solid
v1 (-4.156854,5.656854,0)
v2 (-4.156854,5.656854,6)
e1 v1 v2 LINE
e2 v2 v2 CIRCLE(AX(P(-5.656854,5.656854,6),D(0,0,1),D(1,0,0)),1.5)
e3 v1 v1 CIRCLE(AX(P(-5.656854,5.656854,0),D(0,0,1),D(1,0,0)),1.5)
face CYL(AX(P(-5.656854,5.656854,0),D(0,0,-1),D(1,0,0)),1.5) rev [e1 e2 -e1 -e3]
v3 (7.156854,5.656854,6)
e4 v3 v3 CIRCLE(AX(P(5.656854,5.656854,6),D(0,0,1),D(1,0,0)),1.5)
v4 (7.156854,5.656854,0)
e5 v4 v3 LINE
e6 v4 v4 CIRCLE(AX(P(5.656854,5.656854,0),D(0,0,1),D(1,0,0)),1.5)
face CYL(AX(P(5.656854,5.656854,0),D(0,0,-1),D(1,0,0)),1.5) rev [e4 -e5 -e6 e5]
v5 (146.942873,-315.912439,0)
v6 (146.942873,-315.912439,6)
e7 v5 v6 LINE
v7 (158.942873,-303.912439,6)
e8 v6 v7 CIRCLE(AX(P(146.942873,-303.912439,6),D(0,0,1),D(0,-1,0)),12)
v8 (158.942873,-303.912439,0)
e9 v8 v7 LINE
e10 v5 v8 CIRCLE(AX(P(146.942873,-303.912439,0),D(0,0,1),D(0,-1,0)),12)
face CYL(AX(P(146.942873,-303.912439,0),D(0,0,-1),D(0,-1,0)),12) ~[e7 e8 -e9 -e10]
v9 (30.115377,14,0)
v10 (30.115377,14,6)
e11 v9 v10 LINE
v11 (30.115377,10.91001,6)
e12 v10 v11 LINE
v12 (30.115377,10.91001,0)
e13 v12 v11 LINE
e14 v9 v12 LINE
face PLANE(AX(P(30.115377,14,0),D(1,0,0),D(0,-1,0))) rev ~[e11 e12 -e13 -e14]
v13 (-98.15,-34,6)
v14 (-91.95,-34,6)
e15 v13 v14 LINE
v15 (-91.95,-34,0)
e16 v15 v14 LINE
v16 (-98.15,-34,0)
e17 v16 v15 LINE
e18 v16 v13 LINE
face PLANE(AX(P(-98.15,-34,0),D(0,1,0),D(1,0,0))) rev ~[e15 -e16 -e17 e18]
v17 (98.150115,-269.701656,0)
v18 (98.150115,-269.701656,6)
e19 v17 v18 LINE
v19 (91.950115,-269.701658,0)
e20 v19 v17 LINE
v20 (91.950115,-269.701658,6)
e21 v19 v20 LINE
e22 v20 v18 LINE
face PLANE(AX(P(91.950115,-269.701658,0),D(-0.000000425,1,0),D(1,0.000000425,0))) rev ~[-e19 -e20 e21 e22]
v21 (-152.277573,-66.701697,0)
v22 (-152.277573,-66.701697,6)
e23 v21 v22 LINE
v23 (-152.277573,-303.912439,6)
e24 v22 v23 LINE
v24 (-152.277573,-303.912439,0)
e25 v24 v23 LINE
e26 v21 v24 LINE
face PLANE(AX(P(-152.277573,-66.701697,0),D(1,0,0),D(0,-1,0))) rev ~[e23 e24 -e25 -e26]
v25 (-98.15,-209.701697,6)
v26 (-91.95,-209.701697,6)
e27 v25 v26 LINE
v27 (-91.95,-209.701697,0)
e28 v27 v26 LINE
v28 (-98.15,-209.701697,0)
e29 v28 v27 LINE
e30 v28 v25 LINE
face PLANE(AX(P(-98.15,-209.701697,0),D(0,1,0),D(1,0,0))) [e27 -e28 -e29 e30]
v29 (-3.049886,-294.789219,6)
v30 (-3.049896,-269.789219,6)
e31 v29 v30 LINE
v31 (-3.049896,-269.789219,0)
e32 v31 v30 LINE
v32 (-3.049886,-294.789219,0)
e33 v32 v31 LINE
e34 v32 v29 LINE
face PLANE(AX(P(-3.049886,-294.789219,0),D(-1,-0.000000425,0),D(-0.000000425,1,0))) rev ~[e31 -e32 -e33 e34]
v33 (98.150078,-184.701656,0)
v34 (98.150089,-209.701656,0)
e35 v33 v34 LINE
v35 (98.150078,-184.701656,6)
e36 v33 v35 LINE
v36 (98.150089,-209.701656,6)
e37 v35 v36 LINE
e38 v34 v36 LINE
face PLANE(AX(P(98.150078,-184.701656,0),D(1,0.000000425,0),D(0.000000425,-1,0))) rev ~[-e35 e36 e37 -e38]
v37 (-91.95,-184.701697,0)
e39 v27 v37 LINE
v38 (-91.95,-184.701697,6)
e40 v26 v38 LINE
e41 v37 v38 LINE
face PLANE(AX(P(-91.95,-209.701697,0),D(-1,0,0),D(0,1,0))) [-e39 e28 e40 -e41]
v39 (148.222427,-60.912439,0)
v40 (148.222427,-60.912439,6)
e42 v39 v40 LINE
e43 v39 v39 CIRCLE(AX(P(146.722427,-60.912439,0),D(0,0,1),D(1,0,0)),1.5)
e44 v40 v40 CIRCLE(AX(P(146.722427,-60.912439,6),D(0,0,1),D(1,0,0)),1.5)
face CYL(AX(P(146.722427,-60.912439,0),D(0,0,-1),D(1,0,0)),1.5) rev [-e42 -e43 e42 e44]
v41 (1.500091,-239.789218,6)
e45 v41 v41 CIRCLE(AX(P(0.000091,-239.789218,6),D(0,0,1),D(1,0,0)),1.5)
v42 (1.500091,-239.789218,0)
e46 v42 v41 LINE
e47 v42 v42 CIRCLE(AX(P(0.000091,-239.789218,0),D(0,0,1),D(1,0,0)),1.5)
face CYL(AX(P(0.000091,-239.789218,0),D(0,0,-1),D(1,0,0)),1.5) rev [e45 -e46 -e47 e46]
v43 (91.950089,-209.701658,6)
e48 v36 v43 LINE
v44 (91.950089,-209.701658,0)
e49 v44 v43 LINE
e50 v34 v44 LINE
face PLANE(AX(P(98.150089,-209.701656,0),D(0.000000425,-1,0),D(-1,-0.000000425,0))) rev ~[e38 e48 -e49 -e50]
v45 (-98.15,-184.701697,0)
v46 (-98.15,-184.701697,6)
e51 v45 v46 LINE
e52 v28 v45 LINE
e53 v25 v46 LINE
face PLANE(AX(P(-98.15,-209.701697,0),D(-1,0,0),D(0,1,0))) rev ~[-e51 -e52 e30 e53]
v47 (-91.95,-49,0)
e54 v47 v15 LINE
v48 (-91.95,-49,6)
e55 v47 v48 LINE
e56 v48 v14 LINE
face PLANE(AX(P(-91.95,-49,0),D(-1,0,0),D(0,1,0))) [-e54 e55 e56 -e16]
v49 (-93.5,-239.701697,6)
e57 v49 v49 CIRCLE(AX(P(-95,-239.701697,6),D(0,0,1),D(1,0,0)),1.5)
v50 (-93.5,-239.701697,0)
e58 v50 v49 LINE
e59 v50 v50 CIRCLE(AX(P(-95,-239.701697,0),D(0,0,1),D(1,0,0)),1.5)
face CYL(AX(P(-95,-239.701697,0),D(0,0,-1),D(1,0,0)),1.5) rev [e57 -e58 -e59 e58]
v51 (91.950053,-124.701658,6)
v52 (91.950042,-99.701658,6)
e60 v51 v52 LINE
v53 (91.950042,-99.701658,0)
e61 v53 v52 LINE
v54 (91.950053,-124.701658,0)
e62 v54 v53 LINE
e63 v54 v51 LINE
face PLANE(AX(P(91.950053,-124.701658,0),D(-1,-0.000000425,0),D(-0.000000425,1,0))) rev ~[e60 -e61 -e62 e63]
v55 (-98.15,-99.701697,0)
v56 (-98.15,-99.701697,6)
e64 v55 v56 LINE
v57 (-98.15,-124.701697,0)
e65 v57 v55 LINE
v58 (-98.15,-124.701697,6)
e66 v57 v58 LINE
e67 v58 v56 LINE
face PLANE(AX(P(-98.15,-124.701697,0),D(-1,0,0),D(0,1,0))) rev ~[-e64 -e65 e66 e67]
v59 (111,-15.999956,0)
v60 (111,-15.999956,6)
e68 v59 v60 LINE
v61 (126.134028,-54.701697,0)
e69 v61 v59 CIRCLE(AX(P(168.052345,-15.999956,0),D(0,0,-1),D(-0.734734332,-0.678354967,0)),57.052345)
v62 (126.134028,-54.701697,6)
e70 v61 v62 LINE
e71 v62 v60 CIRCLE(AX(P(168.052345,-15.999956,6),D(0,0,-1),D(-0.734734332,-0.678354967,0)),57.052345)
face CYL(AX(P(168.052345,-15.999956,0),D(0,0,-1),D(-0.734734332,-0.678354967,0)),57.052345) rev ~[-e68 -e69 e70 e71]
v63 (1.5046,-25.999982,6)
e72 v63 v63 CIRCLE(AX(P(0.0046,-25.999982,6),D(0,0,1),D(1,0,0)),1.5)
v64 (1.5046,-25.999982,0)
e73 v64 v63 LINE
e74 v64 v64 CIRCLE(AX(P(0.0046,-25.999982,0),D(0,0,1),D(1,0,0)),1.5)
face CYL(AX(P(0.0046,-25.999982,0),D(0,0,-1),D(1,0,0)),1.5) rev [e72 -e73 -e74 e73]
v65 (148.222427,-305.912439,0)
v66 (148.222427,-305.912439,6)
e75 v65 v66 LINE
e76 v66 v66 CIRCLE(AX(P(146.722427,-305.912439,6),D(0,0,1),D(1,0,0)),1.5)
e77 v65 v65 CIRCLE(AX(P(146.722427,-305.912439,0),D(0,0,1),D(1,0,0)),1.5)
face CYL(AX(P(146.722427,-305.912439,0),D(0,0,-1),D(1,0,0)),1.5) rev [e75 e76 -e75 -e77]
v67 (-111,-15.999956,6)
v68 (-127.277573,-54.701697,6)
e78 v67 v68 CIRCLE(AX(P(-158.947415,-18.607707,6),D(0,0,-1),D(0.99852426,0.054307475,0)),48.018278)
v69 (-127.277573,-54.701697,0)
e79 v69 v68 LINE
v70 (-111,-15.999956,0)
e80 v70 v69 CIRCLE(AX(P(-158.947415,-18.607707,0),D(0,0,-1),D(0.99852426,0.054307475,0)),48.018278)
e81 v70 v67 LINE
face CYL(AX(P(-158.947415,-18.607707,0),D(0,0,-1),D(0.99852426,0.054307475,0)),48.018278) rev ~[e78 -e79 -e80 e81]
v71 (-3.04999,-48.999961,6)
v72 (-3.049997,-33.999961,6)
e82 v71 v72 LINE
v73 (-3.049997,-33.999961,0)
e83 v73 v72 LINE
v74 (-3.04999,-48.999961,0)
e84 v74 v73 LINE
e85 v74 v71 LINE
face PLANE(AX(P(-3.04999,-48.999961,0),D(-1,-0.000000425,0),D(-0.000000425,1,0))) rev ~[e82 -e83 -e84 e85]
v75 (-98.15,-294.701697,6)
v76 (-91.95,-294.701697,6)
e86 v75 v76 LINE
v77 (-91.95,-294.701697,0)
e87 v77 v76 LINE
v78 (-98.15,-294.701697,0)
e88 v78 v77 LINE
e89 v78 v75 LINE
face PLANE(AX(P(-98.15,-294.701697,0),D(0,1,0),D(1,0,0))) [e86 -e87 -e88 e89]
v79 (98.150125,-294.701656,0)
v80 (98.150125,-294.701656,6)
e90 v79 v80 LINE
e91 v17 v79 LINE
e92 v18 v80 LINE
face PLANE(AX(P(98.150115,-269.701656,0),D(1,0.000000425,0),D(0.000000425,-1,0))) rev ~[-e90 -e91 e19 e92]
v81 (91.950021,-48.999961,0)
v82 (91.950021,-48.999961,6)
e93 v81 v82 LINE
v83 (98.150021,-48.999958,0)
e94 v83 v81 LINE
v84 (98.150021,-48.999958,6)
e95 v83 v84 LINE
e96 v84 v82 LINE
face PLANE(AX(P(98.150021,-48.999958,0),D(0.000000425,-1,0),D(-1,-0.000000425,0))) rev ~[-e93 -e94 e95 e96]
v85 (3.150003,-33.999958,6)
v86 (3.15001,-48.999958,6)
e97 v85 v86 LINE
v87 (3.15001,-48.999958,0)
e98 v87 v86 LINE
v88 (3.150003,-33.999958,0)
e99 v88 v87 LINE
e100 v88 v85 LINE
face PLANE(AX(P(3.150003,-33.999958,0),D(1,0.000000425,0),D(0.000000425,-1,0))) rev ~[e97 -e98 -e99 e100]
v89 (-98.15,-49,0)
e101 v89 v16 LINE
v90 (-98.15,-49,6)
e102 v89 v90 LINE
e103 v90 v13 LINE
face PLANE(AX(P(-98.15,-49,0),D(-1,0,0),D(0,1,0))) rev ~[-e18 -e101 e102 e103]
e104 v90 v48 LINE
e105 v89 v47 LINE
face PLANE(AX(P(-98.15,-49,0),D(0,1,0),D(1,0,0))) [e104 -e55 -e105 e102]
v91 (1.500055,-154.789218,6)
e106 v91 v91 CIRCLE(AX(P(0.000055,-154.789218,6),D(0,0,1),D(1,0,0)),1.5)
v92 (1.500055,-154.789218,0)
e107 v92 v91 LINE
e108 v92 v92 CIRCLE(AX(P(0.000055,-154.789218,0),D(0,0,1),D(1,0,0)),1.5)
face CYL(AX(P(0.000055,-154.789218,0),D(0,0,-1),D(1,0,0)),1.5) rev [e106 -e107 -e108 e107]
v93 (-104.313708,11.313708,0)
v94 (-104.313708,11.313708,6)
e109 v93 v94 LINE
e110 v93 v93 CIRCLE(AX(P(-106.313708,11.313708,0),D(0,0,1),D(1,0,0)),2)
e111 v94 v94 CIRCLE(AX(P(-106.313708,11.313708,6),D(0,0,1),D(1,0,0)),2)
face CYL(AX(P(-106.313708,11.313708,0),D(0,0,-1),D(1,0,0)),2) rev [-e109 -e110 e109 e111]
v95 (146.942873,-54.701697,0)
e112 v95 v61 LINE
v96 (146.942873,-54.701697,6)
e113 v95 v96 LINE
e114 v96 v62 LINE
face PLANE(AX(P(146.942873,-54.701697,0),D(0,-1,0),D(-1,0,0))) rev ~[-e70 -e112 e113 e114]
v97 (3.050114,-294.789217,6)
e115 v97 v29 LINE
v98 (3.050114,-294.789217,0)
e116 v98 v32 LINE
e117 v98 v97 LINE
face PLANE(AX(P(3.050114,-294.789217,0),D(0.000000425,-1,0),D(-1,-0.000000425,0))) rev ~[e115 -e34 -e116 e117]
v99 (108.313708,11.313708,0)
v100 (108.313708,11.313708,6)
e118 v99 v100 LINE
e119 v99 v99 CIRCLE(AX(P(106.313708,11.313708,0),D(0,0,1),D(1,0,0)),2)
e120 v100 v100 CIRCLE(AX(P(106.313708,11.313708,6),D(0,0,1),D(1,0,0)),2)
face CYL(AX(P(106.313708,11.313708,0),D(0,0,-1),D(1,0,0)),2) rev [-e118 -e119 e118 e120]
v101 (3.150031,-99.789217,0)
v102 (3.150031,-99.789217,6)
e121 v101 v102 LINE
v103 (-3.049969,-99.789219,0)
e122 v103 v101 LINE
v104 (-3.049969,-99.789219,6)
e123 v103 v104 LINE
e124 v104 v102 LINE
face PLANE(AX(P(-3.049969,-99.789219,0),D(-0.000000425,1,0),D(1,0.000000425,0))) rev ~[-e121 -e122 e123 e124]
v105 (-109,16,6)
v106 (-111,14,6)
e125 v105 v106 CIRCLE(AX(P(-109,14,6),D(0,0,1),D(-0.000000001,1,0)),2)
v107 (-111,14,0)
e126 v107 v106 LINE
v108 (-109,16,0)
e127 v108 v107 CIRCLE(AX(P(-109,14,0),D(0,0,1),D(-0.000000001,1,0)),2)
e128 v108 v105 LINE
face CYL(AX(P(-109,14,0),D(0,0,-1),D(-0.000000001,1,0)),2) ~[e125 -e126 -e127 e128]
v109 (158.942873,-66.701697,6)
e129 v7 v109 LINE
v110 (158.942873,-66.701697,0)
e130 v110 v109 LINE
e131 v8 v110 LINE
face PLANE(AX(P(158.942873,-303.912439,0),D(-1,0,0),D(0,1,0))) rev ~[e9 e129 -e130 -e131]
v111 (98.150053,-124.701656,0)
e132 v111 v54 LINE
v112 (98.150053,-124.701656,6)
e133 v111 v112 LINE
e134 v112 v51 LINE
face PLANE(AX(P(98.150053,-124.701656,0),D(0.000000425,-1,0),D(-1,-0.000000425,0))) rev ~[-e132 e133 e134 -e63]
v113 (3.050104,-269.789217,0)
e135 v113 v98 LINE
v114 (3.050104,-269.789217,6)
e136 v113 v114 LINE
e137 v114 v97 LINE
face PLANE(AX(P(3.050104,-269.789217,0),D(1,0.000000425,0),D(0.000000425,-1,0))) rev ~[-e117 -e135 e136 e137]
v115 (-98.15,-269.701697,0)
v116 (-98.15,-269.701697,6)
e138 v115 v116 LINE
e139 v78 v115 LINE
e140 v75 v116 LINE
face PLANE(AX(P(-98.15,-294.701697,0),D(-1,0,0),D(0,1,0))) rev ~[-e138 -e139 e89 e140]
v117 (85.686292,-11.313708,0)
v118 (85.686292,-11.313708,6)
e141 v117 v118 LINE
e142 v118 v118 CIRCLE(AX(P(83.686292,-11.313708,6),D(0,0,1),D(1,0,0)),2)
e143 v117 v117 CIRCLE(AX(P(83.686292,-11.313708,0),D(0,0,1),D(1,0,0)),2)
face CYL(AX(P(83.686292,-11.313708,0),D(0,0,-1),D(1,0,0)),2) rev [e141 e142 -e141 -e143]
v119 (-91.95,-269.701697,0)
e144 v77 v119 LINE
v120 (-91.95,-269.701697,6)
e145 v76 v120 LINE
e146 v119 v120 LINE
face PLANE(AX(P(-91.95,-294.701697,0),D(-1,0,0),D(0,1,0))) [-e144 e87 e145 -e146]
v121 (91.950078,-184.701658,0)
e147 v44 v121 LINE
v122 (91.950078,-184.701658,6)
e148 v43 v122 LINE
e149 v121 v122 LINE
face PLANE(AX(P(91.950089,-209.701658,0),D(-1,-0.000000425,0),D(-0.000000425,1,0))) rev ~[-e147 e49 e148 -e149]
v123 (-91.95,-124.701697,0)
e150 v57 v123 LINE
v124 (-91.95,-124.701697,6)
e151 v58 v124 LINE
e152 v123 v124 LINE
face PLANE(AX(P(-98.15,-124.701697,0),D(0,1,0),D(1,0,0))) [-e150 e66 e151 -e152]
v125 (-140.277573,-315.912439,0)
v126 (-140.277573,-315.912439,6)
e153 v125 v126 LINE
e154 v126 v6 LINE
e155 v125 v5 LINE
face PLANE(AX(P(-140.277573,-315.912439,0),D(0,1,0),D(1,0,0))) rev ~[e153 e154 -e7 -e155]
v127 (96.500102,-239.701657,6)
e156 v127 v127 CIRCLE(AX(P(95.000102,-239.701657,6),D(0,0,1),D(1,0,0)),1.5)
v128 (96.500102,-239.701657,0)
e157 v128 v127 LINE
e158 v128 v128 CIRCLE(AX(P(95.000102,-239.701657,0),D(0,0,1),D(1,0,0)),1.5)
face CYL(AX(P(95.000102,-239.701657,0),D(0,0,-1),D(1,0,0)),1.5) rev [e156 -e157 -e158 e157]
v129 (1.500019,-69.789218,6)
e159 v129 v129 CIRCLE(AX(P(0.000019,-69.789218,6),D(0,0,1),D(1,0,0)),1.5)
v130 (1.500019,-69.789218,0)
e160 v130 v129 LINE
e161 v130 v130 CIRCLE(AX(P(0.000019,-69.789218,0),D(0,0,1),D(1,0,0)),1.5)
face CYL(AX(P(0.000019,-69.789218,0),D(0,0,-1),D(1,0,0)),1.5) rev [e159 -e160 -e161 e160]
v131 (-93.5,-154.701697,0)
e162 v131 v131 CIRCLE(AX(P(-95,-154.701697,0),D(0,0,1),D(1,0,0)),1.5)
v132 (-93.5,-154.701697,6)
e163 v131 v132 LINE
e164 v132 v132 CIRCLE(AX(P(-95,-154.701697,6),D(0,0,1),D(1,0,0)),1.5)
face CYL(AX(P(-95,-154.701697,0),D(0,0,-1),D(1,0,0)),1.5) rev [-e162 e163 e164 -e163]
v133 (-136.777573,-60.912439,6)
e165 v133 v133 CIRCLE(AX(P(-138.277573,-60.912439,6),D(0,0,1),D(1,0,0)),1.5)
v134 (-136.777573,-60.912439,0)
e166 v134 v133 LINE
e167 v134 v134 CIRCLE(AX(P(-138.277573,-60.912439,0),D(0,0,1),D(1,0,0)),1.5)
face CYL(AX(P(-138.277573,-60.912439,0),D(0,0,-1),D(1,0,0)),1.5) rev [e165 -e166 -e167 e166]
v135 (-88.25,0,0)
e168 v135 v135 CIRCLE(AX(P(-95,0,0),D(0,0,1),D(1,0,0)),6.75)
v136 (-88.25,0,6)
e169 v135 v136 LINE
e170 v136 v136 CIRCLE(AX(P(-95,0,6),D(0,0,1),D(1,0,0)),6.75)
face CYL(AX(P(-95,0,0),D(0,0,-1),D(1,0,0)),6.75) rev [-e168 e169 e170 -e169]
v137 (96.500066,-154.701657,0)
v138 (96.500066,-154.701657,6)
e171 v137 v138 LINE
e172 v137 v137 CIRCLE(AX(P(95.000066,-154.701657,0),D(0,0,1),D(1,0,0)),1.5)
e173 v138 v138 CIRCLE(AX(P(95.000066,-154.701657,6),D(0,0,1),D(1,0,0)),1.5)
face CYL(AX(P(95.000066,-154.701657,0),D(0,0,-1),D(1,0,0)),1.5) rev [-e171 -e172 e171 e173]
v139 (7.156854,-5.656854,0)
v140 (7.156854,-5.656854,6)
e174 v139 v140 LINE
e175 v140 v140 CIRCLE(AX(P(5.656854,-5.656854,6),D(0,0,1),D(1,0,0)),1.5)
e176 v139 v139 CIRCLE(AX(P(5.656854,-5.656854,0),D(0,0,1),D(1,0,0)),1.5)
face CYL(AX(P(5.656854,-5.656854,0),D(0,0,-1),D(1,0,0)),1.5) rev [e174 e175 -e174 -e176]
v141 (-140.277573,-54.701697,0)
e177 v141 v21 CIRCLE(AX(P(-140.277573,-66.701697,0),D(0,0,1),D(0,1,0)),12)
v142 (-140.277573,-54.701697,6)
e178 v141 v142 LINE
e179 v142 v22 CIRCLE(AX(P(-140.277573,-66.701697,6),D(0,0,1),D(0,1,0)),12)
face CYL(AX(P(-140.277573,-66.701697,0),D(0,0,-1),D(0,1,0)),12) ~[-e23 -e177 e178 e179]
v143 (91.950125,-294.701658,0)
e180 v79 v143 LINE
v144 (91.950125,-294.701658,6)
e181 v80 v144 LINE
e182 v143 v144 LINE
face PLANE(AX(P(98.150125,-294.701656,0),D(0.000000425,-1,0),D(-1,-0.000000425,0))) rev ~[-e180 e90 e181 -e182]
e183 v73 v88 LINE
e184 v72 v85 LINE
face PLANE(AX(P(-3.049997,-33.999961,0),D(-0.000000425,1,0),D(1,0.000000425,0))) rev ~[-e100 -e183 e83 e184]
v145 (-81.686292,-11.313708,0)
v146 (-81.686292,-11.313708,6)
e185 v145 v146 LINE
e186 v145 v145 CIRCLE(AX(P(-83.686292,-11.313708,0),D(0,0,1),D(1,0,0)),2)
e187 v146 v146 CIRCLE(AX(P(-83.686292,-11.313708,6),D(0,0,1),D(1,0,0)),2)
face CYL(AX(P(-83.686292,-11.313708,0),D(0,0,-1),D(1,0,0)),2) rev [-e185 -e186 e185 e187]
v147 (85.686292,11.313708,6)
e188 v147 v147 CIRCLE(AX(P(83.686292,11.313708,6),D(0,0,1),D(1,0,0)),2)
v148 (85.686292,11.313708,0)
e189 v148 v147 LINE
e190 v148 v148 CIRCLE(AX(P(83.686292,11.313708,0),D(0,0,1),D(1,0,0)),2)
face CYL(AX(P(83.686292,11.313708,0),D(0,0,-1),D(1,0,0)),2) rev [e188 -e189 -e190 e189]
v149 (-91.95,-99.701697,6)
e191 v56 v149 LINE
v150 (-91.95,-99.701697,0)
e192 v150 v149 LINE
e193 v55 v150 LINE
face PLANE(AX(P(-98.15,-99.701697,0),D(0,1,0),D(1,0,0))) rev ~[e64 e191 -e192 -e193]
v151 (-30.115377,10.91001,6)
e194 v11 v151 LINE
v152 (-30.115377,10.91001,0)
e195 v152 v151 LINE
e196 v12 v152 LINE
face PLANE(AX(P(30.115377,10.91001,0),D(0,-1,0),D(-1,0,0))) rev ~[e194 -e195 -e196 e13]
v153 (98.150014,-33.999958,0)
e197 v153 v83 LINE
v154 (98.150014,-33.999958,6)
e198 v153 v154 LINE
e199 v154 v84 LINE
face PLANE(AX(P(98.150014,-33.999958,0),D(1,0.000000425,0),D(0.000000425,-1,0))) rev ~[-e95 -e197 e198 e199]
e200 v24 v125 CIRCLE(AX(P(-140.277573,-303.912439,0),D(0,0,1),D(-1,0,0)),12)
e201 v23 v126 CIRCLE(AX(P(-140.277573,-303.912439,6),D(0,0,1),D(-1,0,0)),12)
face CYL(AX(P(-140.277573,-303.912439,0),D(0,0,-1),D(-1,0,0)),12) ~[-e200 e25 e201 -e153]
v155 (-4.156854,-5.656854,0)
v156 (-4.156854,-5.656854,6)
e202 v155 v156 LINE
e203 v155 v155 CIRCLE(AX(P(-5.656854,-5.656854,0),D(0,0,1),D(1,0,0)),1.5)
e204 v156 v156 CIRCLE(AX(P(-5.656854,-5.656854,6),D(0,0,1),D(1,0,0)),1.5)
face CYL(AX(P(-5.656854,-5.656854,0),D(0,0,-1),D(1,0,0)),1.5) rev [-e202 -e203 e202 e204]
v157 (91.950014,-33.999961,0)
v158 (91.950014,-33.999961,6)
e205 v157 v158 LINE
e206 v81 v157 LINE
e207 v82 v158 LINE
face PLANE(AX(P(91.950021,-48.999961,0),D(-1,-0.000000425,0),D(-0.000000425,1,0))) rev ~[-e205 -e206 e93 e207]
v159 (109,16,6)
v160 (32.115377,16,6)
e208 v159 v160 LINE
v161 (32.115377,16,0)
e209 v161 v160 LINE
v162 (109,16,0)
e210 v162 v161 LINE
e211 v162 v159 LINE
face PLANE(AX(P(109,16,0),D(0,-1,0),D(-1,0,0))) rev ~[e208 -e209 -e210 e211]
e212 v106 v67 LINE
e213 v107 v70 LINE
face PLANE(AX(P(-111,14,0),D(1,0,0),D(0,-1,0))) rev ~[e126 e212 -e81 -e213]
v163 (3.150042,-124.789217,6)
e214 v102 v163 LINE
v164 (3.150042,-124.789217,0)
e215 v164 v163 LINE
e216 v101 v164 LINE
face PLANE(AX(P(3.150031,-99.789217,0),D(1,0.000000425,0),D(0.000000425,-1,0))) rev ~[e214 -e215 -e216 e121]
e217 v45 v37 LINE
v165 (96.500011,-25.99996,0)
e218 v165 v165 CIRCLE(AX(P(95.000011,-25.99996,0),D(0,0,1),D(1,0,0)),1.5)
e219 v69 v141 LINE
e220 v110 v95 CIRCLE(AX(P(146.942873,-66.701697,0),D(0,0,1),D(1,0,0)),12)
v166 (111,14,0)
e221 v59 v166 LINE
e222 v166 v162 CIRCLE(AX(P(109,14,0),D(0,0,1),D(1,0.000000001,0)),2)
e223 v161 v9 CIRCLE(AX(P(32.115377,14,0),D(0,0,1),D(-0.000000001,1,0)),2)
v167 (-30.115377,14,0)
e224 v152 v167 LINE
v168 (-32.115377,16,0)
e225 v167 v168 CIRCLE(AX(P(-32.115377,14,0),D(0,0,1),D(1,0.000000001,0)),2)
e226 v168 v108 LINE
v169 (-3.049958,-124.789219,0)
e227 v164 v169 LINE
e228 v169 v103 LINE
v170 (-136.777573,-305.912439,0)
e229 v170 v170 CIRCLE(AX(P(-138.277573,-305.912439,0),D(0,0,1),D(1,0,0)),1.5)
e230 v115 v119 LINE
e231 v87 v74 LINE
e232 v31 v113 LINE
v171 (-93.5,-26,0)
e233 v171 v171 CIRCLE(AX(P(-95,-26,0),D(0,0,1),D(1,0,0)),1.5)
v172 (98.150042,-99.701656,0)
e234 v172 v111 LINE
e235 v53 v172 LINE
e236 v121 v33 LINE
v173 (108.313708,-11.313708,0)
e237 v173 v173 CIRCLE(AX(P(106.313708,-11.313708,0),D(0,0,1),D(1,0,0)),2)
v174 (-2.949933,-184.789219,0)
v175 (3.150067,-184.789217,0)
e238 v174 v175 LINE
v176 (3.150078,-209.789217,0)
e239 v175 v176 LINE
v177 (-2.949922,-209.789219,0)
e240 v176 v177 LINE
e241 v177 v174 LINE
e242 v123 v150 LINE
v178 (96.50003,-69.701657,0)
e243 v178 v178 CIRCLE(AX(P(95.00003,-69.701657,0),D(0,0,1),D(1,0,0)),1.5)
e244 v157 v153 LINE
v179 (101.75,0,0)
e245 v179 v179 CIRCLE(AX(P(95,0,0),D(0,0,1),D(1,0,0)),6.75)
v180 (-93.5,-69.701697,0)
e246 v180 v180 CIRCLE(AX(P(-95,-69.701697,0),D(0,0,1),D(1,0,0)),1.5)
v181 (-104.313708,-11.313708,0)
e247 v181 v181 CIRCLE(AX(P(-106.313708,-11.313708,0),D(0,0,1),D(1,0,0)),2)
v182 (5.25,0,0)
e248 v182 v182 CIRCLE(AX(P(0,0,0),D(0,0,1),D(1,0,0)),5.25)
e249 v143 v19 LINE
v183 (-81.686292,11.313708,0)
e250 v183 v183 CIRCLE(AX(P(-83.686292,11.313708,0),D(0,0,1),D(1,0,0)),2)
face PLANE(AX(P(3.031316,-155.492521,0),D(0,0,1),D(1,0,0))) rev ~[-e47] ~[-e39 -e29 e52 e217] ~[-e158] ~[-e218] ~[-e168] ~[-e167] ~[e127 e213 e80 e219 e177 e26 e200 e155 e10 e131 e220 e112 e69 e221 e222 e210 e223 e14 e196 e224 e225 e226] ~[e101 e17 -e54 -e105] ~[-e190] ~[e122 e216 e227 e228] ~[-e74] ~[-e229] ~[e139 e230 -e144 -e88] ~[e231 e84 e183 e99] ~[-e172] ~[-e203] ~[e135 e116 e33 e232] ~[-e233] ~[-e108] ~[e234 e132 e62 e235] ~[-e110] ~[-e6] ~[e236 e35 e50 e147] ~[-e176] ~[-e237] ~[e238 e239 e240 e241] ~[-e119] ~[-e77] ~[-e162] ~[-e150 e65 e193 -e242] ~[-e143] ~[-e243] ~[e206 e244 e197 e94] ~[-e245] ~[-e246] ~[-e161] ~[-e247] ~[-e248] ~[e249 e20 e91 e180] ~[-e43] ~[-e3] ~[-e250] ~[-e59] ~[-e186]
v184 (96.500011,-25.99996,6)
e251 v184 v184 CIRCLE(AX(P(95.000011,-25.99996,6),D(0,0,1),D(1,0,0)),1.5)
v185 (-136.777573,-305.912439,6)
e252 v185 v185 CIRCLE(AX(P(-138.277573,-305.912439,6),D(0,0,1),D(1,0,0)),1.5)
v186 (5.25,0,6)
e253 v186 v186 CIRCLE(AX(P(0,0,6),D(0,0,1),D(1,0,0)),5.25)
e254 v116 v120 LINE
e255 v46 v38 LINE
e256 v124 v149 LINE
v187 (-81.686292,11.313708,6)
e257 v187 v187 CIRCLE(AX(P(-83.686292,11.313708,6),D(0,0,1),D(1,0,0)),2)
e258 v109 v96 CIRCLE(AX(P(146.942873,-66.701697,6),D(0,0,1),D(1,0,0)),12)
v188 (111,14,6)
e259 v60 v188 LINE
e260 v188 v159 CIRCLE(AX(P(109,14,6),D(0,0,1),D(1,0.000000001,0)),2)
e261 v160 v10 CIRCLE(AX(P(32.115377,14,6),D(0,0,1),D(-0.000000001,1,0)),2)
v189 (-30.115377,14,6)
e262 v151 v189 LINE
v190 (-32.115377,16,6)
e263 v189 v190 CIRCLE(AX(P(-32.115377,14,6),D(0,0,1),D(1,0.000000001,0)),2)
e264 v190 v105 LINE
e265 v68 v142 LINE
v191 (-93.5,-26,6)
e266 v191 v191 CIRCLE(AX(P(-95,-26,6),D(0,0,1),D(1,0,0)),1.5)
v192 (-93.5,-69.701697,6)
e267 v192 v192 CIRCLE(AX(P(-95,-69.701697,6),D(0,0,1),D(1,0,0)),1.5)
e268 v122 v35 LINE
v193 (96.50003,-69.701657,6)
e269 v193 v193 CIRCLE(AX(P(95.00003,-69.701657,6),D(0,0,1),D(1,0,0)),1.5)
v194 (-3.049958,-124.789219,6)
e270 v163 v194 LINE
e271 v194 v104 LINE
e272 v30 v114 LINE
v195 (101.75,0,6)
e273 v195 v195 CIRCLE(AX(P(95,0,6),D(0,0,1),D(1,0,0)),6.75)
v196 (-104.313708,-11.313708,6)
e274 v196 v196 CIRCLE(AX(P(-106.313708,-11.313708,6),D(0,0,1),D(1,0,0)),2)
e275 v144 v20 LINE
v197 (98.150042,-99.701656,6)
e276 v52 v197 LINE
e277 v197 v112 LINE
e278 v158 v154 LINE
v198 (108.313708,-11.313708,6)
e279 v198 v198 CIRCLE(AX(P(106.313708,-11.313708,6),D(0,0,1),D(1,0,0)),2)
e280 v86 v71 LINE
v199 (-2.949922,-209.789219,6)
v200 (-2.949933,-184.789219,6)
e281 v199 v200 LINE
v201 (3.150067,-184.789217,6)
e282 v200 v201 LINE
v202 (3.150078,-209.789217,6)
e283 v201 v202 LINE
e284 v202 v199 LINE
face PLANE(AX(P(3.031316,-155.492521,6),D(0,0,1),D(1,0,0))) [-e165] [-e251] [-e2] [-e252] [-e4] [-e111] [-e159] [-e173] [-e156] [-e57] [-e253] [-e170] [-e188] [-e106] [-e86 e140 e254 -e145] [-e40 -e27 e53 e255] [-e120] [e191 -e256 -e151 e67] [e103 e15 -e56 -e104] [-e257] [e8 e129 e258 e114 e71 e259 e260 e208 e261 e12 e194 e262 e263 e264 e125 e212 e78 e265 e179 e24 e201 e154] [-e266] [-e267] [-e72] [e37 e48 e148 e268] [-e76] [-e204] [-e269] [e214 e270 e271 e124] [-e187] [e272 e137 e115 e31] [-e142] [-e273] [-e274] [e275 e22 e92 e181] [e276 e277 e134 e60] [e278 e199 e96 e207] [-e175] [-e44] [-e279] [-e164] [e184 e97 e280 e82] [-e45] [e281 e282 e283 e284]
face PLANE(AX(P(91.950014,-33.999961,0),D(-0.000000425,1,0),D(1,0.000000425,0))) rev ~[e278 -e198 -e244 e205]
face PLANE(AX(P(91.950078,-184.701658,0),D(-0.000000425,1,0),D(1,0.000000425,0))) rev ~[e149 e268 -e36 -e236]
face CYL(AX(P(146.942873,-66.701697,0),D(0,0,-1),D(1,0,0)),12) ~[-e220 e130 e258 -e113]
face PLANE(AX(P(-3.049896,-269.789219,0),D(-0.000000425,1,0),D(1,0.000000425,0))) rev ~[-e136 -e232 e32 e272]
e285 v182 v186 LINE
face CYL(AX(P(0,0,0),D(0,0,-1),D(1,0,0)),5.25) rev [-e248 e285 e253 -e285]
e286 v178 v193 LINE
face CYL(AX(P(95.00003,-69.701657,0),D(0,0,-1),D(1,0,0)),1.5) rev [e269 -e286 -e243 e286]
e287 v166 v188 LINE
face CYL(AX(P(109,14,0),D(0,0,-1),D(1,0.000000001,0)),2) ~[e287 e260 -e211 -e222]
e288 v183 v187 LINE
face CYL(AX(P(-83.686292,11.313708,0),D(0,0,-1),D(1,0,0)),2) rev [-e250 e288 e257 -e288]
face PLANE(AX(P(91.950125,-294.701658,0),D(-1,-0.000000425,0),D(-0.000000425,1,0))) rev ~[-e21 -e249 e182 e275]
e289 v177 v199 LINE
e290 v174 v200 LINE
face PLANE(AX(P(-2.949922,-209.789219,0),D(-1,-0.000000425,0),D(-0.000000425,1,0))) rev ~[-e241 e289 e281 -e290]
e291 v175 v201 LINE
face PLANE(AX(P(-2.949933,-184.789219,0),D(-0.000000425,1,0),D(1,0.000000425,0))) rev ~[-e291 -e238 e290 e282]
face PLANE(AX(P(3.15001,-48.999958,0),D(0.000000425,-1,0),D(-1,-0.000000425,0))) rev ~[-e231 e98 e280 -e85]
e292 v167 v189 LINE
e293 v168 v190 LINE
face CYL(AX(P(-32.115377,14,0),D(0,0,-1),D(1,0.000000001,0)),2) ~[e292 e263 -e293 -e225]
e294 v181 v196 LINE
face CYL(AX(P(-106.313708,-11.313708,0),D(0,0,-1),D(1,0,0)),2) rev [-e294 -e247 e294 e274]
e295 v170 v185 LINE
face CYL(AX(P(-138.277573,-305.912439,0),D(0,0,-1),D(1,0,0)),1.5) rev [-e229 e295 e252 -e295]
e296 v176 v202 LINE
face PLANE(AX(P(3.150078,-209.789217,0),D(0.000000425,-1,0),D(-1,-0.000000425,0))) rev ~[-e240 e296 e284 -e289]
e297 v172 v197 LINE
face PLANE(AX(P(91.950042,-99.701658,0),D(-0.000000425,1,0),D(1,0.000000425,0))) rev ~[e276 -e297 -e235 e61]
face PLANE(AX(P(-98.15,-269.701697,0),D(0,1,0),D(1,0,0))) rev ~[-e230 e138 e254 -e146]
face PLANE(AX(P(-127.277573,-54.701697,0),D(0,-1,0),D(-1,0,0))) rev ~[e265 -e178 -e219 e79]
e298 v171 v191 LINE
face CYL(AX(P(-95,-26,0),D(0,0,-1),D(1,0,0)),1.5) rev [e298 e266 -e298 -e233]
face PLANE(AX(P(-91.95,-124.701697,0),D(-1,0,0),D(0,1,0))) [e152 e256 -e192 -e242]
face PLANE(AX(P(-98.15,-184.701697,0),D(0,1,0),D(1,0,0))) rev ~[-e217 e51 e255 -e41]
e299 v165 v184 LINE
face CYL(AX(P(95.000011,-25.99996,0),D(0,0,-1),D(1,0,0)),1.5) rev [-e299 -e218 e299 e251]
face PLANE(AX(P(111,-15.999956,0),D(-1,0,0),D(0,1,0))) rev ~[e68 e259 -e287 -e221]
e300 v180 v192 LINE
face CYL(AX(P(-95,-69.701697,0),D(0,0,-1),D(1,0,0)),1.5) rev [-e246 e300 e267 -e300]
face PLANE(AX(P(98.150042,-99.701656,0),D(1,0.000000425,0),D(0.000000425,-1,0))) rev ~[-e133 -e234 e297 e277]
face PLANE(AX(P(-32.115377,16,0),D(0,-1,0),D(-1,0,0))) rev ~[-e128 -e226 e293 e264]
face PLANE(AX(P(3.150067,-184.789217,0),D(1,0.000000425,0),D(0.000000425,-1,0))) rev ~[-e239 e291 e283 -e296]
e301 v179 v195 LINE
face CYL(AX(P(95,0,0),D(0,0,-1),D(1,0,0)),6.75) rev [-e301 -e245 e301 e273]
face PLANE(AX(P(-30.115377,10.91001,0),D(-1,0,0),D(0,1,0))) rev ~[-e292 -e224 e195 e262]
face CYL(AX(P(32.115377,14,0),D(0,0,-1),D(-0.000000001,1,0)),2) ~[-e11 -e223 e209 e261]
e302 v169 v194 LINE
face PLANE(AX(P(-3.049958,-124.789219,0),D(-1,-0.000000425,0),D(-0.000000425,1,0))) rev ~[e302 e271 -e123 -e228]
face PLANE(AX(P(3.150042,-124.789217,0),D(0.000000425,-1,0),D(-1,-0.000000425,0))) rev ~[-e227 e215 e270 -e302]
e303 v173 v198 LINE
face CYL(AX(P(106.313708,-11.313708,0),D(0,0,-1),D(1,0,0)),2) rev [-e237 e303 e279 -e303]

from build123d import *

# Parameters (mm, degrees)
CROQUIS1_R              = 1.5
CROQUIS1_W              = 6.2
CROQUIS1_H              = 25
CROQUIS1_H_2            = 15
CROQUIS1_R_2            = 2
CROQUIS1_R_3            = 6.75
CROQUIS1_R_4            = 5.25
SALIENTE_EXTRUIR1_DEPTH = 6


with BuildPart() as part:
    # Croquis1 → Saliente-Extruir1 (new body)
    with BuildSketch(Plane.XY):
        with BuildLine():
            Line((87.635637669, 16), (32.115377174, 16))
            ThreePointArc((32.115377174, 16), (30.701163612, 15.414213562), (30.115377174, 14))
            Line((30.115377174, 14), (30.115377174, 10.910010016))
            Line((30.115377174, 10.910010016), (-30.115377174, 10.910010016))
            Line((-30.115377174, 10.910010016), (-30.115377174, 14))
            ThreePointArc((-30.115377174, 14), (-30.701163612, 15.414213562), (-32.115377174, 16))
            Line((-32.115377174, 16), (-44.664398505, 16))
            Line((-44.664398505, 16), (-87.635637669, 16))
            Line((-87.635637669, 16), (-109, 16))
            ThreePointArc((-109, 16), (-110.414213562, 15.414213562), (-111, 14))
            Line((-111, 14), (-111, 0))
            Line((-111, 0), (-111, -15.999955929))
            ThreePointArc((-111, -15.999955929), (-114.684754838, -37.224148725), (-127.277573278, -54.701697231))
            Line((-127.277573278, -54.701697231), (-135.277573278, -54.701697231))
            Line((-135.277573278, -54.701697231), (-140.277573278, -54.701697231))
            ThreePointArc((-140.277573278, -54.701697231), (-148.762854653, -58.216415857), (-152.277573278, -66.701697231))
            Line((-152.277573278, -66.701697231), (-152.277573278, -303.912438798))
            ThreePointArc((-152.277573278, -303.912438798), (-148.762854653, -312.397720172), (-140.277573278, -315.912438798))
            Line((-140.277573278, -315.912438798), (-135.277573278, -315.912438798))
            Line((-135.277573278, -315.912438798), (-119.364295205, -315.912438798))
            Line((-119.364295205, -315.912438798), (119.364429455, -315.912438798))
            Line((119.364429455, -315.912438798), (130.295105026, -315.912438798))
            Line((130.295105026, -315.912438798), (146.942872896, -315.912438798))
            ThreePointArc((146.942872896, -315.912438798), (155.42815427, -312.397720172), (158.942872896, -303.912438798))
            Line((158.942872896, -303.912438798), (158.942872896, -70.770984471))
            Line((158.942872896, -70.770984471), (158.942872896, -66.701697231))
            ThreePointArc((158.942872896, -66.701697231), (155.42815427, -58.216415857), (146.942872896, -54.701697231))
            Line((146.942872896, -54.701697231), (126.134028278, -54.701697231))
            ThreePointArc((126.134028278, -54.701697231), (114.918041875, -36.777730062), (111, -15.999955929))
            Line((111, -15.999955929), (111, 14))
            ThreePointArc((111, 14), (110.414213562, 15.414213562), (109, 16))
            Line((109, 16), (87.635637669, 16))
        make_face()
        with Locations((-138.277573278, -305.912438798)):
            Circle(CROQUIS1_R, mode=Mode.SUBTRACT)
        with Locations((-95.05, -282.201697231)):
            Rectangle(CROQUIS1_W, CROQUIS1_H, mode=Mode.SUBTRACT)
        with Locations((-95, -239.701697231)):
            Circle(CROQUIS1_R, mode=Mode.SUBTRACT)
        Polygon((-3.049885808, -294.789219369), (-3.049896429, -269.789219369), (3.050103571, -269.789216778), (3.050114192, -294.789216778), align=None, mode=Mode.SUBTRACT)
        with Locations((9.0826e-05, -239.789218073)):
            Circle(CROQUIS1_R, mode=Mode.SUBTRACT)
        with Locations((-95.05, -197.201697231)):
            Rectangle(CROQUIS1_W, CROQUIS1_H, mode=Mode.SUBTRACT)
        with Locations((-95, -154.701697231)):
            Circle(CROQUIS1_R, mode=Mode.SUBTRACT)
        Polygon((-2.949921919, -209.789219327), (-2.94993254, -184.789219327), (3.15006746, -184.789216735), (3.150078081, -209.789216735), align=None, mode=Mode.SUBTRACT)
        with Locations((5.4715e-05, -154.789218073)):
            Circle(CROQUIS1_R, mode=Mode.SUBTRACT)
        Polygon((91.950125201, -294.701658167), (91.95011458, -269.701658167), (98.15011458, -269.701655533), (98.150125201, -294.701655533), align=None, mode=Mode.SUBTRACT)
        with Locations((146.722426722, -305.912438798)):
            Circle(CROQUIS1_R, mode=Mode.SUBTRACT)
        with Locations((95.000101835, -239.701656871)):
            Circle(CROQUIS1_R, mode=Mode.SUBTRACT)
        Polygon((91.95008909, -209.701658167), (91.950078469, -184.701658167), (98.150078469, -184.701655533), (98.15008909, -209.701655533), align=None, mode=Mode.SUBTRACT)
        with Locations((95.000065724, -154.701656871)):
            Circle(CROQUIS1_R, mode=Mode.SUBTRACT)
        with Locations((-95.05, -112.201697231)):
            Rectangle(CROQUIS1_W, CROQUIS1_H, mode=Mode.SUBTRACT)
        with Locations((-95, -69.701697231)):
            Circle(CROQUIS1_R, mode=Mode.SUBTRACT)
        Polygon((-3.04995803, -124.789219369), (-3.049968651, -99.789219369), (3.150031349, -99.789216735), (3.15004197, -124.789216735), align=None, mode=Mode.SUBTRACT)
        with Locations((1.8603e-05, -69.789218073)):
            Circle(CROQUIS1_R, mode=Mode.SUBTRACT)
        with Locations((-138.277573278, -60.912438798)):
            Circle(CROQUIS1_R, mode=Mode.SUBTRACT)
        with Locations((-95.05, -41.5)):
            Rectangle(CROQUIS1_W, CROQUIS1_H_2, mode=Mode.SUBTRACT)
        with Locations((-95, -26)):
            Circle(CROQUIS1_R, mode=Mode.SUBTRACT)
        with Locations((-106.313708499, -11.313708499)):
            Circle(CROQUIS1_R_2, mode=Mode.SUBTRACT)
        with Locations((-83.686291501, -11.313708499)):
            Circle(CROQUIS1_R_2, mode=Mode.SUBTRACT)
        with Locations((-95, 0)):
            Circle(CROQUIS1_R_3, mode=Mode.SUBTRACT)
        with Locations((-106.313708499, 11.313708499)):
            Circle(CROQUIS1_R_2, mode=Mode.SUBTRACT)
        with Locations((-83.686291501, 11.313708499)):
            Circle(CROQUIS1_R_2, mode=Mode.SUBTRACT)
        Polygon((-3.049990229, -48.999960936), (-3.049996601, -33.999960936), (3.150003399, -33.999958302), (3.150009771, -48.999958302), align=None, mode=Mode.SUBTRACT)
        with Locations((0.004600085, -25.999981675)):
            Circle(CROQUIS1_R, mode=Mode.SUBTRACT)
        with Locations((-5.656854249, -5.656854249)):
            Circle(CROQUIS1_R, mode=Mode.SUBTRACT)
        Circle(CROQUIS1_R_4, mode=Mode.SUBTRACT)
        with Locations((-5.656854249, 5.656854249)):
            Circle(CROQUIS1_R, mode=Mode.SUBTRACT)
        Polygon((91.950052978, -124.701658167), (91.950042357, -99.701658167), (98.150042357, -99.701655533), (98.150052978, -124.701655533), align=None, mode=Mode.SUBTRACT)
        with Locations((95.000029612, -69.701656871)):
            Circle(CROQUIS1_R, mode=Mode.SUBTRACT)
        with Locations((5.656854249, -5.656854249)):
            Circle(CROQUIS1_R, mode=Mode.SUBTRACT)
        with Locations((5.656854249, 5.656854249)):
            Circle(CROQUIS1_R, mode=Mode.SUBTRACT)
        Polygon((91.950020817, -48.999960936), (91.950014445, -33.999960936), (98.150014445, -33.999958302), (98.150020817, -48.999958302), align=None, mode=Mode.SUBTRACT)
        with Locations((95.000011046, -25.99995964)):
            Circle(CROQUIS1_R, mode=Mode.SUBTRACT)
        with Locations((146.722426722, -60.912438798)):
            Circle(CROQUIS1_R, mode=Mode.SUBTRACT)
        with Locations((83.686291501, -11.313708499)):
            Circle(CROQUIS1_R_2, mode=Mode.SUBTRACT)
        with Locations((106.313708499, -11.313708499)):
            Circle(CROQUIS1_R_2, mode=Mode.SUBTRACT)
        with Locations((95, 0)):
            Circle(CROQUIS1_R_3, mode=Mode.SUBTRACT)
        with Locations((83.686291501, 11.313708499)):
            Circle(CROQUIS1_R_2, mode=Mode.SUBTRACT)
        with Locations((106.313708499, 11.313708499)):
            Circle(CROQUIS1_R_2, mode=Mode.SUBTRACT)
    extrude(amount=SALIENTE_EXTRUIR1_DEPTH)


solid = part.part
